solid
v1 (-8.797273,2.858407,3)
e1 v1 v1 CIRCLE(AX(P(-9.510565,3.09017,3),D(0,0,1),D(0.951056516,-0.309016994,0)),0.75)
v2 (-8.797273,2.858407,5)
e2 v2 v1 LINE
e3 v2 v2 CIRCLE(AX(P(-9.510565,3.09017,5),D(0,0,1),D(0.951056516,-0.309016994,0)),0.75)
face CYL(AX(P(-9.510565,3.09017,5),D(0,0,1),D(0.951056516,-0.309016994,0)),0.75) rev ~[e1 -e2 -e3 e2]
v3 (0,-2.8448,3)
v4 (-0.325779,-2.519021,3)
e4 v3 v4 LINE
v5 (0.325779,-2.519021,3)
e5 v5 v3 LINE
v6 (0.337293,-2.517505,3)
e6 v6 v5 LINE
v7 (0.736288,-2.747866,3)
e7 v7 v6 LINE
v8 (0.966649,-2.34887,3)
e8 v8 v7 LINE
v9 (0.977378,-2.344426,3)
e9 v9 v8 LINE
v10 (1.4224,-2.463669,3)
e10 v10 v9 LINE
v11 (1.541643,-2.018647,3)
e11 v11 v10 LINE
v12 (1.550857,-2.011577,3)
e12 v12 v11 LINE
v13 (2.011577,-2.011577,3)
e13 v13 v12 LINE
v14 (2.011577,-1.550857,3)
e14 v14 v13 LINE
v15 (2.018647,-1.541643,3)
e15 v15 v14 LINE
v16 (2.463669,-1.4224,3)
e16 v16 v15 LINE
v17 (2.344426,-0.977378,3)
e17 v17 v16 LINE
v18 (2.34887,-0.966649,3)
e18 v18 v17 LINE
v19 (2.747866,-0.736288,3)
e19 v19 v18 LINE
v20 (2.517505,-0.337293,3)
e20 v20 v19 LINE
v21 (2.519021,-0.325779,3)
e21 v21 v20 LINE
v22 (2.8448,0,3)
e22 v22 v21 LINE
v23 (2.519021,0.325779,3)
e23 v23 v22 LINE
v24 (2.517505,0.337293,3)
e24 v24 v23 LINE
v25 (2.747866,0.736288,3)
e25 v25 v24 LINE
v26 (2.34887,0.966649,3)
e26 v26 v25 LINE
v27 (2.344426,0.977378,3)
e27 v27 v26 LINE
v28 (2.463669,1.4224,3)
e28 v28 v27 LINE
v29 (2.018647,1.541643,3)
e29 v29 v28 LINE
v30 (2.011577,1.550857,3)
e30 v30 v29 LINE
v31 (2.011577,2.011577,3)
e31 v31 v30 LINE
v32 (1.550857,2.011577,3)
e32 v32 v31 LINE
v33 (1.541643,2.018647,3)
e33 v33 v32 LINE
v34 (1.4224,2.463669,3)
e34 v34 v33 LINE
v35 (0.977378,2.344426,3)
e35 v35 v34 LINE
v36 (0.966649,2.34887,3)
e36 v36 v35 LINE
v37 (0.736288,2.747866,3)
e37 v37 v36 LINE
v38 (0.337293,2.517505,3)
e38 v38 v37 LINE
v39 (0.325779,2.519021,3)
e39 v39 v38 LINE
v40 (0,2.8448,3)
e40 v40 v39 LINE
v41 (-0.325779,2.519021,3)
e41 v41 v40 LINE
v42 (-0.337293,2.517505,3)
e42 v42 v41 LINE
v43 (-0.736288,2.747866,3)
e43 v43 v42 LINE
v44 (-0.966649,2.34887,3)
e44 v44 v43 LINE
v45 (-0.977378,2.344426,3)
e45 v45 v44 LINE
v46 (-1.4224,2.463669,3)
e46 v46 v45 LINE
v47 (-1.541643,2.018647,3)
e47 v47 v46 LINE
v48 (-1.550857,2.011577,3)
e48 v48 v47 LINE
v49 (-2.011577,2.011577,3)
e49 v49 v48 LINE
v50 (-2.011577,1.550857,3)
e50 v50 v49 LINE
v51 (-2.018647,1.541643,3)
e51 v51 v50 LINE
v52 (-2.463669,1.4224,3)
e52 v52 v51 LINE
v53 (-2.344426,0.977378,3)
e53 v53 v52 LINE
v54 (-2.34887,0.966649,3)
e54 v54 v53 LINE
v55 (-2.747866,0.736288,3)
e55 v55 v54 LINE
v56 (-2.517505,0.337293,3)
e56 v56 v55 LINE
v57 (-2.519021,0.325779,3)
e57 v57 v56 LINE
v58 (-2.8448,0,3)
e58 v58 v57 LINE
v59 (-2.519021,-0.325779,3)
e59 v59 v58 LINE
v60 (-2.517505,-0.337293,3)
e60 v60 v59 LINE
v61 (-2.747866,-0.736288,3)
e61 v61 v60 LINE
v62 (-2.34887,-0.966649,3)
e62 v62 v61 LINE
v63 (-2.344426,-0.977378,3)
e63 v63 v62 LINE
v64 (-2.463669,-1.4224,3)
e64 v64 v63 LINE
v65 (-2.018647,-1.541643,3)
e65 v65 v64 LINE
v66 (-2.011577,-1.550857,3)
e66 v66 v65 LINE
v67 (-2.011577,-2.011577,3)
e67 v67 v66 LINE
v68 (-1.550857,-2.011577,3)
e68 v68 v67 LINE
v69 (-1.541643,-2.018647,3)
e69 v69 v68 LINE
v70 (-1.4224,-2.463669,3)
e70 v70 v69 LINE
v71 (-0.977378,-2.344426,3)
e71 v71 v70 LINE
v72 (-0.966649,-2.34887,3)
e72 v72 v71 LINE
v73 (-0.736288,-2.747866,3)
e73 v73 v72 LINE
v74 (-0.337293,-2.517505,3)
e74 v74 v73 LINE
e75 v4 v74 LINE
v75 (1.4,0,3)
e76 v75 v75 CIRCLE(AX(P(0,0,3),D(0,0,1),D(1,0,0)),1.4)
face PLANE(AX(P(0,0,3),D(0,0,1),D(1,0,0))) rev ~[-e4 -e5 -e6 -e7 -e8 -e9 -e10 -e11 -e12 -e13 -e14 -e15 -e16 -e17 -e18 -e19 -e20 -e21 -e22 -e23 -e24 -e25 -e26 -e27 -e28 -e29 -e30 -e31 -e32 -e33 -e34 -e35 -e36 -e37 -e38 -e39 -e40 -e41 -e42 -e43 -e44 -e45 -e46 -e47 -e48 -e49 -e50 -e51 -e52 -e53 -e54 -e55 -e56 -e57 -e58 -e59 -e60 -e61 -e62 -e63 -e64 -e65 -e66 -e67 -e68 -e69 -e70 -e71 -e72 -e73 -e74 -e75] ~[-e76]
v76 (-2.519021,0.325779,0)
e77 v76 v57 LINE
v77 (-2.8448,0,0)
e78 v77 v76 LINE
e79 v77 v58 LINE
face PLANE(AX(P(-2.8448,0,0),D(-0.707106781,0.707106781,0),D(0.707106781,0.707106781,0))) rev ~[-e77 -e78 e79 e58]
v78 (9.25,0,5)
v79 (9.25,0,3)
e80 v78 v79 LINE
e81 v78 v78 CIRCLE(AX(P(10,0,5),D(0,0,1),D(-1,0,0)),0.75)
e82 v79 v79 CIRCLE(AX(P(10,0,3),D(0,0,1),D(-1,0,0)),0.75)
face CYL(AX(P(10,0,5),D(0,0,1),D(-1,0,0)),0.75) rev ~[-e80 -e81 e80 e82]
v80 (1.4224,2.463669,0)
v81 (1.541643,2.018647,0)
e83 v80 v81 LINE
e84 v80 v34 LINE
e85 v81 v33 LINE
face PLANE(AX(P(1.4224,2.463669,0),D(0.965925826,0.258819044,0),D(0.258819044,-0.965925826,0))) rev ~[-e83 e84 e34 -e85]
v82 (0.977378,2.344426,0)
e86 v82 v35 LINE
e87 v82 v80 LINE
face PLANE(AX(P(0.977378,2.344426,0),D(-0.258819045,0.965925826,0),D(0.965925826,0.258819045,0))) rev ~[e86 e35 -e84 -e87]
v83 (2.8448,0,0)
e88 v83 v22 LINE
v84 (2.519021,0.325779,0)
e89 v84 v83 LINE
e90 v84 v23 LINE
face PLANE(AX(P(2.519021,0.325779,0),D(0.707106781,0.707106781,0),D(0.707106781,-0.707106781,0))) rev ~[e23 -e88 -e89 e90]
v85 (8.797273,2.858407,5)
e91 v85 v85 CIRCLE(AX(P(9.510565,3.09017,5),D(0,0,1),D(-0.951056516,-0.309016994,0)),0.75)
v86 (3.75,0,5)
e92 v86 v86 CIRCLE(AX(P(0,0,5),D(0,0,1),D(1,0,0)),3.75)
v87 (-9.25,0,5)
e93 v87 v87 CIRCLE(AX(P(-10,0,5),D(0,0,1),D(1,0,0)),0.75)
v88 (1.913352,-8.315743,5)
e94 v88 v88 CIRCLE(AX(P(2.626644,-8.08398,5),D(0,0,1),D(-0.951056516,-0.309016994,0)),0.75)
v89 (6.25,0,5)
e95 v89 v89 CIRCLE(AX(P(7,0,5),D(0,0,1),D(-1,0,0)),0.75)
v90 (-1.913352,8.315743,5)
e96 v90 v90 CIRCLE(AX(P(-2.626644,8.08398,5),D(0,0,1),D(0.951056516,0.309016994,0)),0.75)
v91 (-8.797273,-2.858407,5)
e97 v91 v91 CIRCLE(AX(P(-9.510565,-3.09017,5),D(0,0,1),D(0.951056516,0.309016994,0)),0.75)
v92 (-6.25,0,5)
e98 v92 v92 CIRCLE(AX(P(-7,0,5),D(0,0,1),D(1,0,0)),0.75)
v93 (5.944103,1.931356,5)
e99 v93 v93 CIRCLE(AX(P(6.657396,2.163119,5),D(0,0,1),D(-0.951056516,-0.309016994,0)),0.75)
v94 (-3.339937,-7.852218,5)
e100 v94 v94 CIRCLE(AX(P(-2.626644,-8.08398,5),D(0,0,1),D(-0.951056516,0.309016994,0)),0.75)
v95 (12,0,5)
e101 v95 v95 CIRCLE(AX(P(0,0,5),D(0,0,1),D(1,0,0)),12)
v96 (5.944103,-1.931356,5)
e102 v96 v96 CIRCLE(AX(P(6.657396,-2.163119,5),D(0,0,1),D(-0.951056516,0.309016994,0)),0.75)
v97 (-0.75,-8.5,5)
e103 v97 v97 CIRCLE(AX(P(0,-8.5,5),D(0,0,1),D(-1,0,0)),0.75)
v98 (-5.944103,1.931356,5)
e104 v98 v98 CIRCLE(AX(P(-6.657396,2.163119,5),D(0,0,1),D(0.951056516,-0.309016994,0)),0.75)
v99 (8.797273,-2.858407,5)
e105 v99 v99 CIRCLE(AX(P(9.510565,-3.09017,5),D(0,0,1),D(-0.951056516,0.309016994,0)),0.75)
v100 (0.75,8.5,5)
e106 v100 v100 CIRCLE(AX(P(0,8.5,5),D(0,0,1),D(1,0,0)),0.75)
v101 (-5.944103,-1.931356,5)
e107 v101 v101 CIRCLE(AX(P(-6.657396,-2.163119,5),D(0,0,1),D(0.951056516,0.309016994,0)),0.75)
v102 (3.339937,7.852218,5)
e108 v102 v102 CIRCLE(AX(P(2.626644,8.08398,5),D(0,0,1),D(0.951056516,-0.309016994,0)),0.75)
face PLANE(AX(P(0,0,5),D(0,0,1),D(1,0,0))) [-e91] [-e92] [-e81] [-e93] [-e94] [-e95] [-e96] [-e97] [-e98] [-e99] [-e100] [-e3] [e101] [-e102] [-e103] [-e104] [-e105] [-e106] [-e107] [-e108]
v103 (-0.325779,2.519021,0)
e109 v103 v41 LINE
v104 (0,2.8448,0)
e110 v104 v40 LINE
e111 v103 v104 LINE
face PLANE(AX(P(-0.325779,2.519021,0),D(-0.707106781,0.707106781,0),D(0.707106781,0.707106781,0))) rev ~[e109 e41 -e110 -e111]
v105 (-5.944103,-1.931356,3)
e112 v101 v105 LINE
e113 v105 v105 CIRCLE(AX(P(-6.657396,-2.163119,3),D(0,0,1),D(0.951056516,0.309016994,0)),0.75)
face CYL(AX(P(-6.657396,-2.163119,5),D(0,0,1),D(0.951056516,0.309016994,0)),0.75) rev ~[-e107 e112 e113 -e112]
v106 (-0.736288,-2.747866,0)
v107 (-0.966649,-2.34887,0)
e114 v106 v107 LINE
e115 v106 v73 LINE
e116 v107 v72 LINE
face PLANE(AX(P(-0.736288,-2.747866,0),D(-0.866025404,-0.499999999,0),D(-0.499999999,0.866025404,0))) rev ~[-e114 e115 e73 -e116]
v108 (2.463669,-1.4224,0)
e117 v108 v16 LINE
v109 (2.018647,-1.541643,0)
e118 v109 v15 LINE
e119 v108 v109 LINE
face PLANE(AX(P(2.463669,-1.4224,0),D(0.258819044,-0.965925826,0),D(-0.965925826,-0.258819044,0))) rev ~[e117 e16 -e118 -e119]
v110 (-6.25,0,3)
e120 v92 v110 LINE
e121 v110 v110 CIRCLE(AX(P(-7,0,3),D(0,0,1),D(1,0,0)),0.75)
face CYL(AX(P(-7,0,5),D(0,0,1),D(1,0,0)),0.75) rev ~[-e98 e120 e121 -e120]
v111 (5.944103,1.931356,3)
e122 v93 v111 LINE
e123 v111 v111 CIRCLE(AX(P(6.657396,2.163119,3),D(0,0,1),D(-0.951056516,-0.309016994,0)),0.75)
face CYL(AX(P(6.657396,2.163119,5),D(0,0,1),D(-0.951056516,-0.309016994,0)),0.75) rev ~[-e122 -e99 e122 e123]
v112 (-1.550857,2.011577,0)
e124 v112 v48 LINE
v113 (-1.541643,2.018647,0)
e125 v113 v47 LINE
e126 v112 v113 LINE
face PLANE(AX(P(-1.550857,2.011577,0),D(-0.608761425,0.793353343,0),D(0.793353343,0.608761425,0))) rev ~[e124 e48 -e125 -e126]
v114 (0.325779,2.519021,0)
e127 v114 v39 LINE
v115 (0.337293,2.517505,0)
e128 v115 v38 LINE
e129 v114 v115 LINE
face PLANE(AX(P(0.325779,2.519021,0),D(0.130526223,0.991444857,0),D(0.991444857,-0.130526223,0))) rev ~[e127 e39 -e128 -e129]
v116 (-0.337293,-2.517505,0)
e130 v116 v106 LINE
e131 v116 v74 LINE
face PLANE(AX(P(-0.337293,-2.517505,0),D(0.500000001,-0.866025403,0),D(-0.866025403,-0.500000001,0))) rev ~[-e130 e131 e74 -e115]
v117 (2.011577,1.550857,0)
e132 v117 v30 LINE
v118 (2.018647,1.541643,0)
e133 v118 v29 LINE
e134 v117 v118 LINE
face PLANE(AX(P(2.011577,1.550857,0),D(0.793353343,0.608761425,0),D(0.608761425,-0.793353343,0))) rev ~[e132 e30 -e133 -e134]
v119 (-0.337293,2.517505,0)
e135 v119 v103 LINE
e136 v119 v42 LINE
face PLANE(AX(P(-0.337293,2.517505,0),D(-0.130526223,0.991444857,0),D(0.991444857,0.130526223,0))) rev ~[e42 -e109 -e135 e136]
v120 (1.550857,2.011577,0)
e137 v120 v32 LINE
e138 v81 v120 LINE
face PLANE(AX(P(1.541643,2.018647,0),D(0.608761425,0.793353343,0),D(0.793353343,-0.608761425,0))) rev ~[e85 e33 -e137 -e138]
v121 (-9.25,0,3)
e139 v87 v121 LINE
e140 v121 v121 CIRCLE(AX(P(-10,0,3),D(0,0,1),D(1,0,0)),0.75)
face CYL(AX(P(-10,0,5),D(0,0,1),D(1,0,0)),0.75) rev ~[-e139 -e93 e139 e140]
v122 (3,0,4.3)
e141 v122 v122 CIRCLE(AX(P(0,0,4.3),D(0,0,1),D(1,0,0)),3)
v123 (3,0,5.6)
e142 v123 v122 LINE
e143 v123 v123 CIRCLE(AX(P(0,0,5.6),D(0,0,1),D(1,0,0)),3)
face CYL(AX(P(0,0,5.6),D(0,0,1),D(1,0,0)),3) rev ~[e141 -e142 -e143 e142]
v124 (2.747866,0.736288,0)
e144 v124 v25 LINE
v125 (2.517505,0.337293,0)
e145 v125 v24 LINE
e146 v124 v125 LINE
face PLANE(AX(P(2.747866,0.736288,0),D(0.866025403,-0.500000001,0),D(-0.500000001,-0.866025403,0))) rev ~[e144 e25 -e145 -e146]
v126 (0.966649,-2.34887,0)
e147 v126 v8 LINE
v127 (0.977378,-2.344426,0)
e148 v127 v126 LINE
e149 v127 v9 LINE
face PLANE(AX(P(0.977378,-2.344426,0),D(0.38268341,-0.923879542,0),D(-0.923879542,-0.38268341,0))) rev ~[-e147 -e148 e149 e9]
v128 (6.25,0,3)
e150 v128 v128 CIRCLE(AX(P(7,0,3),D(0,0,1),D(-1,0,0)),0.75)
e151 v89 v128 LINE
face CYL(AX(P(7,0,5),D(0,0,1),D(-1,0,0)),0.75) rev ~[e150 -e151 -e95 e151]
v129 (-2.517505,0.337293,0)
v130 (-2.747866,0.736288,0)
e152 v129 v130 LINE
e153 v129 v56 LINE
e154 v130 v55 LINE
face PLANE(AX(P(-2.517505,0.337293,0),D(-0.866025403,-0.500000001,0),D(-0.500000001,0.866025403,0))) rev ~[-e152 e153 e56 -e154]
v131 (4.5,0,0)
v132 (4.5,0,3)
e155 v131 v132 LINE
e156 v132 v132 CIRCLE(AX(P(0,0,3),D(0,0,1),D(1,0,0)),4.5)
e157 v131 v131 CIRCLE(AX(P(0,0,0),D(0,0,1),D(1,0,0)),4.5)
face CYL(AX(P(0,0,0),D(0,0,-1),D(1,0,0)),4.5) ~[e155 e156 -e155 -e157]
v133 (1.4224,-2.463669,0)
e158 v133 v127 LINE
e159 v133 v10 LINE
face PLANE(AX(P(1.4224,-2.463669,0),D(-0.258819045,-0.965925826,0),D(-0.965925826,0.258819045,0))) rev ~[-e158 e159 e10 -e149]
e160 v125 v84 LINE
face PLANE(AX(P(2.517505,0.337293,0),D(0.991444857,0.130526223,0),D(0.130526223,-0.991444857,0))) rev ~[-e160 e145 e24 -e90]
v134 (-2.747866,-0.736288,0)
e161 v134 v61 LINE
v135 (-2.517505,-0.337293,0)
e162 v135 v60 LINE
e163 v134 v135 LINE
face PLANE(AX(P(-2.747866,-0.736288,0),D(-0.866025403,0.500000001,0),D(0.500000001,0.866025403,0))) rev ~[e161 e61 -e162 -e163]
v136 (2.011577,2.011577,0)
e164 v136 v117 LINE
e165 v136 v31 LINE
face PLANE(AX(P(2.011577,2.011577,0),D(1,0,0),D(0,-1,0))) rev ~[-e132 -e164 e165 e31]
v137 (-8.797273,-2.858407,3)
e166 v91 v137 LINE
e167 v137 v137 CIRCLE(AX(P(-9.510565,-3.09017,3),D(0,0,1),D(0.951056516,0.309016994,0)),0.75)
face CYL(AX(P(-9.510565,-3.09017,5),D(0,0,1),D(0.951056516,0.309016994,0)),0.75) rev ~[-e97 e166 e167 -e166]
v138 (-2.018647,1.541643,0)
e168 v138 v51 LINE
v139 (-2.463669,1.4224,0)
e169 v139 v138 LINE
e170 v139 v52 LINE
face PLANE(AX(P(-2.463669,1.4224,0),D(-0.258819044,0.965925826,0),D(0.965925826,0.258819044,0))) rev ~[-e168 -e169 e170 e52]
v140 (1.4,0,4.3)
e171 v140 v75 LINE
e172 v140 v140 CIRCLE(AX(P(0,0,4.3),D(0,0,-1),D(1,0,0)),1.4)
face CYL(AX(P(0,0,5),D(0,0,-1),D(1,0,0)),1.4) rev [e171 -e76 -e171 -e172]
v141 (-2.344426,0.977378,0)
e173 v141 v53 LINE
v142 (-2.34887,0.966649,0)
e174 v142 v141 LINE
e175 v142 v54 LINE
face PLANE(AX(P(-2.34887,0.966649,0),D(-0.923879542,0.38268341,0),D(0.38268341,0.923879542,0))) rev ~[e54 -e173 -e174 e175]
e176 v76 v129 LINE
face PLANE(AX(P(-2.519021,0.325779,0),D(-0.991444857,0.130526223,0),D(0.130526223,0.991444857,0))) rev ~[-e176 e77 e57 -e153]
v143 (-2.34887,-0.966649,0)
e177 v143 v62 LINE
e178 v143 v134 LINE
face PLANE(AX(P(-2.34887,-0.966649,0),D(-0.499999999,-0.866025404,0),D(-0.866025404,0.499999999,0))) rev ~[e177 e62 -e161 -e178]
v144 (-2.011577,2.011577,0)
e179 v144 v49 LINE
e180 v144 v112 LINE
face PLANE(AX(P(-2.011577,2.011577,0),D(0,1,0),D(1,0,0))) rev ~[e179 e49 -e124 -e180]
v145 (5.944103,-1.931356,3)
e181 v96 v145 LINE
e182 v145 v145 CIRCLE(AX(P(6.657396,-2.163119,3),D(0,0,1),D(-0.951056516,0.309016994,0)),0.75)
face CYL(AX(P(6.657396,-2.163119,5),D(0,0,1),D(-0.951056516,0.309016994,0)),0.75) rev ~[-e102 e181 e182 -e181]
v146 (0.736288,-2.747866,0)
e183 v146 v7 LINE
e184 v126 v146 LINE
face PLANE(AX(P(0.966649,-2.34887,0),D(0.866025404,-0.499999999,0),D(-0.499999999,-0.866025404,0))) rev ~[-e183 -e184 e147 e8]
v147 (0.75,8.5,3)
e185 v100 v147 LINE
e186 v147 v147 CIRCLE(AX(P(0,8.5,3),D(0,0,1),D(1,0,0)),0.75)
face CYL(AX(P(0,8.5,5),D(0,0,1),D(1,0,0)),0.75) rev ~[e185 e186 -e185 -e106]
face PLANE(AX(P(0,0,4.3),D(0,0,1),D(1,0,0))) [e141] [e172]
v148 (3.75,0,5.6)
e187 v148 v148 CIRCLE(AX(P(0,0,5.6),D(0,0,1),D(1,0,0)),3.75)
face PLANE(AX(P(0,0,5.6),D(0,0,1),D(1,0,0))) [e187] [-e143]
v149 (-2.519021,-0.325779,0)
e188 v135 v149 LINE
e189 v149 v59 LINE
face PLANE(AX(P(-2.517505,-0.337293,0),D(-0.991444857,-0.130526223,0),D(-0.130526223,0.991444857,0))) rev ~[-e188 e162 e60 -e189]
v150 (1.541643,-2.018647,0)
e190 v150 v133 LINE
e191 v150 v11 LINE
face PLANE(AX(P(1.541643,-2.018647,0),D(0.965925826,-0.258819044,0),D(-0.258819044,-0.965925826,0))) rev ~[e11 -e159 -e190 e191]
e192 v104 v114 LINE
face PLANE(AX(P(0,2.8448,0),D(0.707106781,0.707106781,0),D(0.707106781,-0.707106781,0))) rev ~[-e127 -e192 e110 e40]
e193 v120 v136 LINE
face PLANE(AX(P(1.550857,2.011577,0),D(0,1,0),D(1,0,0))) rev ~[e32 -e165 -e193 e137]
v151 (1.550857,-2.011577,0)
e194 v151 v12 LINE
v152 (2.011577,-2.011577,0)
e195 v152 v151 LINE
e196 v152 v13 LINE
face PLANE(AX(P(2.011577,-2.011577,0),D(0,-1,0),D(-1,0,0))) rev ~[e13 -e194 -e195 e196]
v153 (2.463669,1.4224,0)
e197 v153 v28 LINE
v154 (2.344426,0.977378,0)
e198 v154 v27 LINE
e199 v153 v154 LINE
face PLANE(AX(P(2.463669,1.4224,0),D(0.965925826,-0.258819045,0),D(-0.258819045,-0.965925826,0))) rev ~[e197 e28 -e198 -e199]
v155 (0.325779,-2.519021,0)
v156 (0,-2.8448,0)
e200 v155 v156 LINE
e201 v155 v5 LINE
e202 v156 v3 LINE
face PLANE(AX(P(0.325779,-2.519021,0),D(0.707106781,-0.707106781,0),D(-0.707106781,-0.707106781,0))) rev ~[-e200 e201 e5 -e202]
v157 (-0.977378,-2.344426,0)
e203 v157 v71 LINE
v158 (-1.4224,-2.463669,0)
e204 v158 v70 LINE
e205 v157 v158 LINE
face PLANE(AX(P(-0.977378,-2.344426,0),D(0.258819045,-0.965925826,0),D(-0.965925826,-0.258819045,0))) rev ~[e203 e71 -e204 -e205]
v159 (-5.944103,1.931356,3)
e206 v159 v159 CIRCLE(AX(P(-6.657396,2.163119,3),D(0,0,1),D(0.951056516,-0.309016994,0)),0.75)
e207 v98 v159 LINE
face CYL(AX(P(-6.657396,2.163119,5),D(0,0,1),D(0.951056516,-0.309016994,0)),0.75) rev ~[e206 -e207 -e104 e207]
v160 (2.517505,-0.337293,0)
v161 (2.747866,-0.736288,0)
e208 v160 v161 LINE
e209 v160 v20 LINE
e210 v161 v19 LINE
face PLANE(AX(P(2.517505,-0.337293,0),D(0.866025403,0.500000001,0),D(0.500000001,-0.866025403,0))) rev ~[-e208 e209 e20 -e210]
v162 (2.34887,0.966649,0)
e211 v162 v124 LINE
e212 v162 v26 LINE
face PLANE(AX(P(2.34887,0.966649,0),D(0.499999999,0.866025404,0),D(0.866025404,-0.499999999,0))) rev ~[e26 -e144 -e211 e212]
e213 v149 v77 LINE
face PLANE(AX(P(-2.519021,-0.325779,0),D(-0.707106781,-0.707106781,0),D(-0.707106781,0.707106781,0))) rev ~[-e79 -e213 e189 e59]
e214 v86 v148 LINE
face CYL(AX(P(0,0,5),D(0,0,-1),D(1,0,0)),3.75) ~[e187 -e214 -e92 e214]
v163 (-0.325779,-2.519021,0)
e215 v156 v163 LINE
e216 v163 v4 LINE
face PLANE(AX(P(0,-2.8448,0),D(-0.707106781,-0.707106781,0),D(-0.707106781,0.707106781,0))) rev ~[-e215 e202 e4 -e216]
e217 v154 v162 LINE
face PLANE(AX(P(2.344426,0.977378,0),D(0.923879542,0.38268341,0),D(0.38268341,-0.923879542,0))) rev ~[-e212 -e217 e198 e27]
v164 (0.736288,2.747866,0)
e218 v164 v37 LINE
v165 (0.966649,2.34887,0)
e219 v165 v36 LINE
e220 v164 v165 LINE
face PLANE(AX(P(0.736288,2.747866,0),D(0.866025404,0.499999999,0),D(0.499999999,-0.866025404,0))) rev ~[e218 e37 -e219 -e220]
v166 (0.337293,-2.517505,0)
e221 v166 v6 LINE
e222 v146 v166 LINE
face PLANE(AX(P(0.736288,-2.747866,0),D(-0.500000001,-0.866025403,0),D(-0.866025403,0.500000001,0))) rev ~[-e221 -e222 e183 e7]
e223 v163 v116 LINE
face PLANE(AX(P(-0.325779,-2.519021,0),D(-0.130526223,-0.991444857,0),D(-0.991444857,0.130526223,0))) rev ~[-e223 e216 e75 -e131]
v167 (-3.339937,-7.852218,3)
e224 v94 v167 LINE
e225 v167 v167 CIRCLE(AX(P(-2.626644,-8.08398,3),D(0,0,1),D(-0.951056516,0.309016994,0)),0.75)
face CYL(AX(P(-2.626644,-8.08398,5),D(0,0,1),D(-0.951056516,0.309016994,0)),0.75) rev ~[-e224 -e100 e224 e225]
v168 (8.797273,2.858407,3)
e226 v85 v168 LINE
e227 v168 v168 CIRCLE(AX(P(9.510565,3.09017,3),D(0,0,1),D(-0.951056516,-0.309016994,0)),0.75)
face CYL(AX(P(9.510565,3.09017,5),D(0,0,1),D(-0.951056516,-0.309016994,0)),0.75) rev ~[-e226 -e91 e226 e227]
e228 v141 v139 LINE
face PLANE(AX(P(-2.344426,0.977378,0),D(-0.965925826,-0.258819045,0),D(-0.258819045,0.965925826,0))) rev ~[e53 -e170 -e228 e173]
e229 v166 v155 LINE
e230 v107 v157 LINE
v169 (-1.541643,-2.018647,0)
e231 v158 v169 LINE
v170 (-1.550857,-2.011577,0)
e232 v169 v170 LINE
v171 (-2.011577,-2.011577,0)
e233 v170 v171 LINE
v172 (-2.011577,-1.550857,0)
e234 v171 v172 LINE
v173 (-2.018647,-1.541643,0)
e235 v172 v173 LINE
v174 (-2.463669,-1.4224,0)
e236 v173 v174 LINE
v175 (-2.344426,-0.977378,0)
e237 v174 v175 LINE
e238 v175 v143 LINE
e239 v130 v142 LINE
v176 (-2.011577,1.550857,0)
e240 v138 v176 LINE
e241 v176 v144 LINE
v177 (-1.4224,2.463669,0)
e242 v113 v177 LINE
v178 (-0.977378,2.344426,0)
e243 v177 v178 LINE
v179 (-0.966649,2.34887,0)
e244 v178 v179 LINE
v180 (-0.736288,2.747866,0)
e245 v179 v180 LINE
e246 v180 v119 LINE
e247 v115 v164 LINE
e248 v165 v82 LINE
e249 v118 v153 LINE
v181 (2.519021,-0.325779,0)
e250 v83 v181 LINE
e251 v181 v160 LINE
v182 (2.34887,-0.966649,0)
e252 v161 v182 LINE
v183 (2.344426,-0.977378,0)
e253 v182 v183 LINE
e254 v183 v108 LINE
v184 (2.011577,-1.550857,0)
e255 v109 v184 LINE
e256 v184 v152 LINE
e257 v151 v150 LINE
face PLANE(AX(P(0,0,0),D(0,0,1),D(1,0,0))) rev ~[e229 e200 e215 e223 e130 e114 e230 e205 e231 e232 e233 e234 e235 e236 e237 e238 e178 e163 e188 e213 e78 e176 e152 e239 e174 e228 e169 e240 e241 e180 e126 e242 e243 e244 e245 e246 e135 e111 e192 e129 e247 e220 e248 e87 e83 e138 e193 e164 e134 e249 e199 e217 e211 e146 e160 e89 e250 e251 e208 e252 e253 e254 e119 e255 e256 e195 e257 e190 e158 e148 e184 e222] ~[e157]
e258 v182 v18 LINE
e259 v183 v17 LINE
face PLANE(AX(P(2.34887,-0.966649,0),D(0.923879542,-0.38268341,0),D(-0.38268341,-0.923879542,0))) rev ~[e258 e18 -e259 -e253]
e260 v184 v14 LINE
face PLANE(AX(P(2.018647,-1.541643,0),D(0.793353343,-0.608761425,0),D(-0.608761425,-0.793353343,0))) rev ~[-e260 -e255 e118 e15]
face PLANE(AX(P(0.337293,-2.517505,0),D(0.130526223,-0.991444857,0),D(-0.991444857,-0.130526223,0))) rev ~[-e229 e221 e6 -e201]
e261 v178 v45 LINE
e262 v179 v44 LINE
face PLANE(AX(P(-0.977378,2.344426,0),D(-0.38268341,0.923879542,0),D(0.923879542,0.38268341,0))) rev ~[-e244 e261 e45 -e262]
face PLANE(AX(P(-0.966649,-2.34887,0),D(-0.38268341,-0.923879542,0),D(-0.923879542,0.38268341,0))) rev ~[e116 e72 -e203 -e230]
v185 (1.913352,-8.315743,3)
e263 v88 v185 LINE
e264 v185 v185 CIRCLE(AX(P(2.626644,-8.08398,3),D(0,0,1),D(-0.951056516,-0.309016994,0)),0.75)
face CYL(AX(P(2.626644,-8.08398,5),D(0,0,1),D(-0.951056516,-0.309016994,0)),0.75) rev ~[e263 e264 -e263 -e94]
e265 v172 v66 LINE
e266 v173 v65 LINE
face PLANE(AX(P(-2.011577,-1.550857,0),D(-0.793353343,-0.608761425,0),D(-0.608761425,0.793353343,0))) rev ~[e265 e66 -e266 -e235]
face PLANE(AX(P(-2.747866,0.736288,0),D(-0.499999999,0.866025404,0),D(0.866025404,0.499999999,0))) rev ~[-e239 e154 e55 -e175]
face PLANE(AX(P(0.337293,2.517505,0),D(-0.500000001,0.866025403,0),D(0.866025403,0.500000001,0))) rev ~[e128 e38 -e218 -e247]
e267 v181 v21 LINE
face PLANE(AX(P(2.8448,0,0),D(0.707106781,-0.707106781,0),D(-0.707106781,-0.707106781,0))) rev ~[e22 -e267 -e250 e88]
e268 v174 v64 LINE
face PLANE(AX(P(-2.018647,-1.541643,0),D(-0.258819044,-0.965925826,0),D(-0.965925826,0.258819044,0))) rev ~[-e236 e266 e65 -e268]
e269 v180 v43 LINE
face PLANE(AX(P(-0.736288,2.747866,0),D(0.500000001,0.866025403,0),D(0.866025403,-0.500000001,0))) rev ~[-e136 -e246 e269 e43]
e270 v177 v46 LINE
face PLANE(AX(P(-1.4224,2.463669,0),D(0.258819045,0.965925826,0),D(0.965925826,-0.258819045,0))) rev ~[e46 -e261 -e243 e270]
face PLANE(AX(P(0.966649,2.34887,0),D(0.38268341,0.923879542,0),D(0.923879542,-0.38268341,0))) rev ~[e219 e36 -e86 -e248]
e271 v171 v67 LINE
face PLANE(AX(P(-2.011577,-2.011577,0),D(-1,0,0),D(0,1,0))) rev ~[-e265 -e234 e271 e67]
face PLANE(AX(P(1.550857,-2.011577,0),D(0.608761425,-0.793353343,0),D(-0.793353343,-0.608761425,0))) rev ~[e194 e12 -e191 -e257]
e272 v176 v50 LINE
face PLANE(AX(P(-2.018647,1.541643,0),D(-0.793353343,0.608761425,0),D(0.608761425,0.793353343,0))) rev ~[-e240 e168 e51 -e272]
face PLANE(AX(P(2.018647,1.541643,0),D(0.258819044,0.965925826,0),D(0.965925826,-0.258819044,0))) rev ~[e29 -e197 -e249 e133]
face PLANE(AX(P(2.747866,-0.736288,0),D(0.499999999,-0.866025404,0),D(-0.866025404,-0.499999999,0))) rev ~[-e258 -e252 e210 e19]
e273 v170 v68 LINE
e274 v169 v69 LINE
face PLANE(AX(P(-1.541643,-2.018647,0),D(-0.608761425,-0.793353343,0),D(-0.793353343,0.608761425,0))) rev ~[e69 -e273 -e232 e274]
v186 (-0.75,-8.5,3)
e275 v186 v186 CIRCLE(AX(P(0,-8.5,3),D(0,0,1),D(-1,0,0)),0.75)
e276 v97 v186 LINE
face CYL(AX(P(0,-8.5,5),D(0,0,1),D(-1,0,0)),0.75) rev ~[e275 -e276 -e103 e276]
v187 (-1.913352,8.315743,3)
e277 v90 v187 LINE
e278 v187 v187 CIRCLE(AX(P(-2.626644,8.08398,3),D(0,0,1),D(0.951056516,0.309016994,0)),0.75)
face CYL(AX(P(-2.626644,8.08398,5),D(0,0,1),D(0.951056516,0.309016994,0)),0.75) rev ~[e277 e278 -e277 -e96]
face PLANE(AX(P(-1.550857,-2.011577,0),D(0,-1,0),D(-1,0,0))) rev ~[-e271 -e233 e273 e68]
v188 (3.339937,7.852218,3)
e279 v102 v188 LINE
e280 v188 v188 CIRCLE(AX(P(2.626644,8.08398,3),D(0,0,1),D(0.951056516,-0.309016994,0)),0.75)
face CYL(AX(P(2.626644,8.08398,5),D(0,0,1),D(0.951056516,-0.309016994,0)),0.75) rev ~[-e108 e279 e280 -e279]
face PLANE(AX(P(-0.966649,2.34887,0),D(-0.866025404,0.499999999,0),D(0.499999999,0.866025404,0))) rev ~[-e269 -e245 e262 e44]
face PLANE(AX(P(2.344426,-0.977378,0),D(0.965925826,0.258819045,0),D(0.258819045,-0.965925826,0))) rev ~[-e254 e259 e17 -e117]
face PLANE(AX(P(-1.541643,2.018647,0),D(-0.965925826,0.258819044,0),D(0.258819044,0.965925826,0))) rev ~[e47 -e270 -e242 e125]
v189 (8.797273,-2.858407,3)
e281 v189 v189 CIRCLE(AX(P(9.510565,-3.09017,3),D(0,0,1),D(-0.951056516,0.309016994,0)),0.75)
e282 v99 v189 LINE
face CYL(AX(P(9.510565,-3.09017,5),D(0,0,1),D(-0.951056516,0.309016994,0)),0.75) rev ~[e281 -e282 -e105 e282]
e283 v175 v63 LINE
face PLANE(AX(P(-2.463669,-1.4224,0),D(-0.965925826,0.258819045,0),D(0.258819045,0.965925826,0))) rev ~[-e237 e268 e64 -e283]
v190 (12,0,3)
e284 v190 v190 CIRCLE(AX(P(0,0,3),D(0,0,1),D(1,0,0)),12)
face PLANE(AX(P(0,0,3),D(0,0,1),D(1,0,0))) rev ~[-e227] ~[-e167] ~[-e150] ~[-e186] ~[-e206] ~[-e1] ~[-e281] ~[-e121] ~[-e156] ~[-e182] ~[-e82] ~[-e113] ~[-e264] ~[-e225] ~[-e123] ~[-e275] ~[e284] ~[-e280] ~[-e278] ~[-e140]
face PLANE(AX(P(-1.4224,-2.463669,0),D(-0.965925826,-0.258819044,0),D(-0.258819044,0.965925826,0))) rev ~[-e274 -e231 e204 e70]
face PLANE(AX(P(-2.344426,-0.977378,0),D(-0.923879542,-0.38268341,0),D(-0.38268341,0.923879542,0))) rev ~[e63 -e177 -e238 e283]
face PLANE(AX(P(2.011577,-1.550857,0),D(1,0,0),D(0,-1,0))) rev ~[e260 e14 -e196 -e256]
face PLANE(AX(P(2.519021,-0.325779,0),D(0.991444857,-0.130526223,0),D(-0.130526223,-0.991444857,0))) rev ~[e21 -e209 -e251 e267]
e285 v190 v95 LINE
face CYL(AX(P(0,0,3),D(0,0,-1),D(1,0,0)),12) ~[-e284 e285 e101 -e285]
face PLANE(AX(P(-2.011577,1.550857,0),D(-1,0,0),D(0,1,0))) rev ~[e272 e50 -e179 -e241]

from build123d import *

# Parameters (mm, degrees)
ESQUISSE1_R                  = 4.5
BOSS_EXTRU_1_DEPTH           = 3
ESQUISSE2_R                  = 12
ESQUISSE2_R_2                = 1.4
BOSS_EXTRU_2_DEPTH           = 2
ESQUISSE3_R                  = 3.75
ESQUISSE3_R_2                = 1.4
BOSS_EXTRU_3_DEPTH           = 0.6
ESQUISSE4_R                  = 3
ENL_V_MAT_EXTRU_1_DEPTH      = 1.3
ESQUISSE5_R                  = 0.75
ENL_V_MAT_EXTRU_2_DEPTH      = 6
R_P_TITION_CIRCULAIRE1_COUNT = 20
ESQUISSE6_R                  = 0.75
ENL_V_MAT_EXTRU_3_DEPTH      = 6
R_P_TITION_CIRCULAIRE2_COUNT = 20


with BuildPart() as part:
    # Esquisse1 → Boss.-Extru.1 (new body)
    with BuildSketch(Plane.XY):
        Circle(ESQUISSE1_R)
        Polygon((2.011577371, -1.550856692), (2.011577371, -2.011577371), (1.550856692, -2.011577371), (1.541643286, -2.018647066), (1.4224, -2.463669069), (0.977377998, -2.344425783), (0.966648759, -2.348869979), (0.73628842, -2.747865791), (0.337292608, -2.517505451), (0.325778716, -2.519021284), (0, -2.8448), (-0.325778716, -2.519021284), (-0.337292608, -2.517505451), (-0.73628842, -2.747865791), (-0.966648759, -2.348869979), (-0.977377998, -2.344425783), (-1.4224, -2.463669069), (-1.541643286, -2.018647066), (-1.550856692, -2.011577371), (-2.011577371, -2.011577371), (-2.011577371, -1.550856692), (-2.018647066, -1.541643286), (-2.463669069, -1.4224), (-2.344425783, -0.977377998), (-2.348869979, -0.966648759), (-2.747865791, -0.73628842), (-2.517505451, -0.337292608), (-2.519021284, -0.325778716), (-2.8448, 0), (-2.519021284, 0.325778716), (-2.517505451, 0.337292608), (-2.747865791, 0.73628842), (-2.348869979, 0.966648759), (-2.344425783, 0.977377998), (-2.463669069, 1.4224), (-2.018647066, 1.541643286), (-2.011577371, 1.550856692), (-2.011577371, 2.011577371), (-1.550856692, 2.011577371), (-1.541643286, 2.018647066), (-1.4224, 2.463669069), (-0.977377998, 2.344425783), (-0.966648759, 2.348869979), (-0.73628842, 2.747865791), (-0.337292608, 2.517505451), (-0.325778716, 2.519021284), (0, 2.8448), (0.325778716, 2.519021284), (0.337292608, 2.517505451), (0.73628842, 2.747865791), (0.966648759, 2.348869979), (0.977377998, 2.344425783), (1.4224, 2.463669069), (1.541643286, 2.018647066), (1.550856692, 2.011577371), (2.011577371, 2.011577371), (2.011577371, 1.550856692), (2.018647066, 1.541643286), (2.463669069, 1.4224), (2.344425783, 0.977377998), (2.348869979, 0.966648759), (2.747865791, 0.73628842), (2.517505451, 0.337292608), (2.519021284, 0.325778716), (2.8448, 0), (2.519021284, -0.325778716), (2.517505451, -0.337292608), (2.747865791, -0.73628842), (2.348869979, -0.966648759), (2.344425783, -0.977377998), (2.463669069, -1.4224), (2.018647066, -1.541643286), align=None, mode=Mode.SUBTRACT)
    extrude(amount=BOSS_EXTRU_1_DEPTH)

    # Esquisse2 → Boss.-Extru.2 (add)
    with BuildSketch(Plane.XY.offset(3)):
        Circle(ESQUISSE2_R)
        Circle(ESQUISSE2_R_2, mode=Mode.SUBTRACT)
    extrude(amount=BOSS_EXTRU_2_DEPTH)

    # Esquisse3 → Boss.-Extru.3 (add)
    with BuildSketch(Plane.XY.offset(5)):
        Circle(ESQUISSE3_R)
        Circle(ESQUISSE3_R_2, mode=Mode.SUBTRACT)
    extrude(amount=BOSS_EXTRU_3_DEPTH)

    # Esquisse4 → Enlèv. mat.-Extru.1 (cut)
    with BuildSketch(Plane.XY.offset(5.6)):
        Circle(ESQUISSE4_R)
    extrude(amount=-ENL_V_MAT_EXTRU_1_DEPTH, mode=Mode.SUBTRACT)

    # Esquisse5 → Enlèv. mat.-Extru.2 (cut, through all)
    with BuildSketch(Plane.XY.offset(5)):
        with Locations((-10, 0)):
            Circle(ESQUISSE5_R)
        with Locations((-7, 0)):
            Circle(ESQUISSE5_R)
    enl_v_mat_extru_2 = extrude(amount=-ENL_V_MAT_EXTRU_2_DEPTH, mode=Mode.SUBTRACT)

    # Répétition circulaire1: Enlèv. mat.-Extru.2 ×20 about axis, 14 skipped
    r_p_tition_circulaire1_axis = Axis((0, 0, 0), (0, 0, 1))
    add([enl_v_mat_extru_2.rotate(r_p_tition_circulaire1_axis, i * 360 / R_P_TITION_CIRCULAIRE1_COUNT) for i in range(1, R_P_TITION_CIRCULAIRE1_COUNT) if i not in (2, 3, 4, 5, 6, 7, 8, 12, 13, 14, 15, 16, 17, 18)], mode=Mode.SUBTRACT)

    # Esquisse6 → Enlèv. mat.-Extru.3 (cut, through all)
    with BuildSketch(Plane.XY.offset(5)):
        with Locations((0, 8.5)):
            Circle(ESQUISSE6_R)
    enl_v_mat_extru_3 = extrude(amount=-ENL_V_MAT_EXTRU_3_DEPTH, mode=Mode.SUBTRACT)

    # Répétition circulaire2: Enlèv. mat.-Extru.3 ×20 about axis, 14 skipped
    r_p_tition_circulaire2_axis = Axis((0, 0, 0), (0, 0, 1))
    add([enl_v_mat_extru_3.rotate(r_p_tition_circulaire2_axis, i * 360 / R_P_TITION_CIRCULAIRE2_COUNT) for i in range(1, R_P_TITION_CIRCULAIRE2_COUNT) if i not in (2, 3, 4, 5, 6, 7, 8, 12, 13, 14, 15, 16, 17, 18)], mode=Mode.SUBTRACT)


solid = part.part
